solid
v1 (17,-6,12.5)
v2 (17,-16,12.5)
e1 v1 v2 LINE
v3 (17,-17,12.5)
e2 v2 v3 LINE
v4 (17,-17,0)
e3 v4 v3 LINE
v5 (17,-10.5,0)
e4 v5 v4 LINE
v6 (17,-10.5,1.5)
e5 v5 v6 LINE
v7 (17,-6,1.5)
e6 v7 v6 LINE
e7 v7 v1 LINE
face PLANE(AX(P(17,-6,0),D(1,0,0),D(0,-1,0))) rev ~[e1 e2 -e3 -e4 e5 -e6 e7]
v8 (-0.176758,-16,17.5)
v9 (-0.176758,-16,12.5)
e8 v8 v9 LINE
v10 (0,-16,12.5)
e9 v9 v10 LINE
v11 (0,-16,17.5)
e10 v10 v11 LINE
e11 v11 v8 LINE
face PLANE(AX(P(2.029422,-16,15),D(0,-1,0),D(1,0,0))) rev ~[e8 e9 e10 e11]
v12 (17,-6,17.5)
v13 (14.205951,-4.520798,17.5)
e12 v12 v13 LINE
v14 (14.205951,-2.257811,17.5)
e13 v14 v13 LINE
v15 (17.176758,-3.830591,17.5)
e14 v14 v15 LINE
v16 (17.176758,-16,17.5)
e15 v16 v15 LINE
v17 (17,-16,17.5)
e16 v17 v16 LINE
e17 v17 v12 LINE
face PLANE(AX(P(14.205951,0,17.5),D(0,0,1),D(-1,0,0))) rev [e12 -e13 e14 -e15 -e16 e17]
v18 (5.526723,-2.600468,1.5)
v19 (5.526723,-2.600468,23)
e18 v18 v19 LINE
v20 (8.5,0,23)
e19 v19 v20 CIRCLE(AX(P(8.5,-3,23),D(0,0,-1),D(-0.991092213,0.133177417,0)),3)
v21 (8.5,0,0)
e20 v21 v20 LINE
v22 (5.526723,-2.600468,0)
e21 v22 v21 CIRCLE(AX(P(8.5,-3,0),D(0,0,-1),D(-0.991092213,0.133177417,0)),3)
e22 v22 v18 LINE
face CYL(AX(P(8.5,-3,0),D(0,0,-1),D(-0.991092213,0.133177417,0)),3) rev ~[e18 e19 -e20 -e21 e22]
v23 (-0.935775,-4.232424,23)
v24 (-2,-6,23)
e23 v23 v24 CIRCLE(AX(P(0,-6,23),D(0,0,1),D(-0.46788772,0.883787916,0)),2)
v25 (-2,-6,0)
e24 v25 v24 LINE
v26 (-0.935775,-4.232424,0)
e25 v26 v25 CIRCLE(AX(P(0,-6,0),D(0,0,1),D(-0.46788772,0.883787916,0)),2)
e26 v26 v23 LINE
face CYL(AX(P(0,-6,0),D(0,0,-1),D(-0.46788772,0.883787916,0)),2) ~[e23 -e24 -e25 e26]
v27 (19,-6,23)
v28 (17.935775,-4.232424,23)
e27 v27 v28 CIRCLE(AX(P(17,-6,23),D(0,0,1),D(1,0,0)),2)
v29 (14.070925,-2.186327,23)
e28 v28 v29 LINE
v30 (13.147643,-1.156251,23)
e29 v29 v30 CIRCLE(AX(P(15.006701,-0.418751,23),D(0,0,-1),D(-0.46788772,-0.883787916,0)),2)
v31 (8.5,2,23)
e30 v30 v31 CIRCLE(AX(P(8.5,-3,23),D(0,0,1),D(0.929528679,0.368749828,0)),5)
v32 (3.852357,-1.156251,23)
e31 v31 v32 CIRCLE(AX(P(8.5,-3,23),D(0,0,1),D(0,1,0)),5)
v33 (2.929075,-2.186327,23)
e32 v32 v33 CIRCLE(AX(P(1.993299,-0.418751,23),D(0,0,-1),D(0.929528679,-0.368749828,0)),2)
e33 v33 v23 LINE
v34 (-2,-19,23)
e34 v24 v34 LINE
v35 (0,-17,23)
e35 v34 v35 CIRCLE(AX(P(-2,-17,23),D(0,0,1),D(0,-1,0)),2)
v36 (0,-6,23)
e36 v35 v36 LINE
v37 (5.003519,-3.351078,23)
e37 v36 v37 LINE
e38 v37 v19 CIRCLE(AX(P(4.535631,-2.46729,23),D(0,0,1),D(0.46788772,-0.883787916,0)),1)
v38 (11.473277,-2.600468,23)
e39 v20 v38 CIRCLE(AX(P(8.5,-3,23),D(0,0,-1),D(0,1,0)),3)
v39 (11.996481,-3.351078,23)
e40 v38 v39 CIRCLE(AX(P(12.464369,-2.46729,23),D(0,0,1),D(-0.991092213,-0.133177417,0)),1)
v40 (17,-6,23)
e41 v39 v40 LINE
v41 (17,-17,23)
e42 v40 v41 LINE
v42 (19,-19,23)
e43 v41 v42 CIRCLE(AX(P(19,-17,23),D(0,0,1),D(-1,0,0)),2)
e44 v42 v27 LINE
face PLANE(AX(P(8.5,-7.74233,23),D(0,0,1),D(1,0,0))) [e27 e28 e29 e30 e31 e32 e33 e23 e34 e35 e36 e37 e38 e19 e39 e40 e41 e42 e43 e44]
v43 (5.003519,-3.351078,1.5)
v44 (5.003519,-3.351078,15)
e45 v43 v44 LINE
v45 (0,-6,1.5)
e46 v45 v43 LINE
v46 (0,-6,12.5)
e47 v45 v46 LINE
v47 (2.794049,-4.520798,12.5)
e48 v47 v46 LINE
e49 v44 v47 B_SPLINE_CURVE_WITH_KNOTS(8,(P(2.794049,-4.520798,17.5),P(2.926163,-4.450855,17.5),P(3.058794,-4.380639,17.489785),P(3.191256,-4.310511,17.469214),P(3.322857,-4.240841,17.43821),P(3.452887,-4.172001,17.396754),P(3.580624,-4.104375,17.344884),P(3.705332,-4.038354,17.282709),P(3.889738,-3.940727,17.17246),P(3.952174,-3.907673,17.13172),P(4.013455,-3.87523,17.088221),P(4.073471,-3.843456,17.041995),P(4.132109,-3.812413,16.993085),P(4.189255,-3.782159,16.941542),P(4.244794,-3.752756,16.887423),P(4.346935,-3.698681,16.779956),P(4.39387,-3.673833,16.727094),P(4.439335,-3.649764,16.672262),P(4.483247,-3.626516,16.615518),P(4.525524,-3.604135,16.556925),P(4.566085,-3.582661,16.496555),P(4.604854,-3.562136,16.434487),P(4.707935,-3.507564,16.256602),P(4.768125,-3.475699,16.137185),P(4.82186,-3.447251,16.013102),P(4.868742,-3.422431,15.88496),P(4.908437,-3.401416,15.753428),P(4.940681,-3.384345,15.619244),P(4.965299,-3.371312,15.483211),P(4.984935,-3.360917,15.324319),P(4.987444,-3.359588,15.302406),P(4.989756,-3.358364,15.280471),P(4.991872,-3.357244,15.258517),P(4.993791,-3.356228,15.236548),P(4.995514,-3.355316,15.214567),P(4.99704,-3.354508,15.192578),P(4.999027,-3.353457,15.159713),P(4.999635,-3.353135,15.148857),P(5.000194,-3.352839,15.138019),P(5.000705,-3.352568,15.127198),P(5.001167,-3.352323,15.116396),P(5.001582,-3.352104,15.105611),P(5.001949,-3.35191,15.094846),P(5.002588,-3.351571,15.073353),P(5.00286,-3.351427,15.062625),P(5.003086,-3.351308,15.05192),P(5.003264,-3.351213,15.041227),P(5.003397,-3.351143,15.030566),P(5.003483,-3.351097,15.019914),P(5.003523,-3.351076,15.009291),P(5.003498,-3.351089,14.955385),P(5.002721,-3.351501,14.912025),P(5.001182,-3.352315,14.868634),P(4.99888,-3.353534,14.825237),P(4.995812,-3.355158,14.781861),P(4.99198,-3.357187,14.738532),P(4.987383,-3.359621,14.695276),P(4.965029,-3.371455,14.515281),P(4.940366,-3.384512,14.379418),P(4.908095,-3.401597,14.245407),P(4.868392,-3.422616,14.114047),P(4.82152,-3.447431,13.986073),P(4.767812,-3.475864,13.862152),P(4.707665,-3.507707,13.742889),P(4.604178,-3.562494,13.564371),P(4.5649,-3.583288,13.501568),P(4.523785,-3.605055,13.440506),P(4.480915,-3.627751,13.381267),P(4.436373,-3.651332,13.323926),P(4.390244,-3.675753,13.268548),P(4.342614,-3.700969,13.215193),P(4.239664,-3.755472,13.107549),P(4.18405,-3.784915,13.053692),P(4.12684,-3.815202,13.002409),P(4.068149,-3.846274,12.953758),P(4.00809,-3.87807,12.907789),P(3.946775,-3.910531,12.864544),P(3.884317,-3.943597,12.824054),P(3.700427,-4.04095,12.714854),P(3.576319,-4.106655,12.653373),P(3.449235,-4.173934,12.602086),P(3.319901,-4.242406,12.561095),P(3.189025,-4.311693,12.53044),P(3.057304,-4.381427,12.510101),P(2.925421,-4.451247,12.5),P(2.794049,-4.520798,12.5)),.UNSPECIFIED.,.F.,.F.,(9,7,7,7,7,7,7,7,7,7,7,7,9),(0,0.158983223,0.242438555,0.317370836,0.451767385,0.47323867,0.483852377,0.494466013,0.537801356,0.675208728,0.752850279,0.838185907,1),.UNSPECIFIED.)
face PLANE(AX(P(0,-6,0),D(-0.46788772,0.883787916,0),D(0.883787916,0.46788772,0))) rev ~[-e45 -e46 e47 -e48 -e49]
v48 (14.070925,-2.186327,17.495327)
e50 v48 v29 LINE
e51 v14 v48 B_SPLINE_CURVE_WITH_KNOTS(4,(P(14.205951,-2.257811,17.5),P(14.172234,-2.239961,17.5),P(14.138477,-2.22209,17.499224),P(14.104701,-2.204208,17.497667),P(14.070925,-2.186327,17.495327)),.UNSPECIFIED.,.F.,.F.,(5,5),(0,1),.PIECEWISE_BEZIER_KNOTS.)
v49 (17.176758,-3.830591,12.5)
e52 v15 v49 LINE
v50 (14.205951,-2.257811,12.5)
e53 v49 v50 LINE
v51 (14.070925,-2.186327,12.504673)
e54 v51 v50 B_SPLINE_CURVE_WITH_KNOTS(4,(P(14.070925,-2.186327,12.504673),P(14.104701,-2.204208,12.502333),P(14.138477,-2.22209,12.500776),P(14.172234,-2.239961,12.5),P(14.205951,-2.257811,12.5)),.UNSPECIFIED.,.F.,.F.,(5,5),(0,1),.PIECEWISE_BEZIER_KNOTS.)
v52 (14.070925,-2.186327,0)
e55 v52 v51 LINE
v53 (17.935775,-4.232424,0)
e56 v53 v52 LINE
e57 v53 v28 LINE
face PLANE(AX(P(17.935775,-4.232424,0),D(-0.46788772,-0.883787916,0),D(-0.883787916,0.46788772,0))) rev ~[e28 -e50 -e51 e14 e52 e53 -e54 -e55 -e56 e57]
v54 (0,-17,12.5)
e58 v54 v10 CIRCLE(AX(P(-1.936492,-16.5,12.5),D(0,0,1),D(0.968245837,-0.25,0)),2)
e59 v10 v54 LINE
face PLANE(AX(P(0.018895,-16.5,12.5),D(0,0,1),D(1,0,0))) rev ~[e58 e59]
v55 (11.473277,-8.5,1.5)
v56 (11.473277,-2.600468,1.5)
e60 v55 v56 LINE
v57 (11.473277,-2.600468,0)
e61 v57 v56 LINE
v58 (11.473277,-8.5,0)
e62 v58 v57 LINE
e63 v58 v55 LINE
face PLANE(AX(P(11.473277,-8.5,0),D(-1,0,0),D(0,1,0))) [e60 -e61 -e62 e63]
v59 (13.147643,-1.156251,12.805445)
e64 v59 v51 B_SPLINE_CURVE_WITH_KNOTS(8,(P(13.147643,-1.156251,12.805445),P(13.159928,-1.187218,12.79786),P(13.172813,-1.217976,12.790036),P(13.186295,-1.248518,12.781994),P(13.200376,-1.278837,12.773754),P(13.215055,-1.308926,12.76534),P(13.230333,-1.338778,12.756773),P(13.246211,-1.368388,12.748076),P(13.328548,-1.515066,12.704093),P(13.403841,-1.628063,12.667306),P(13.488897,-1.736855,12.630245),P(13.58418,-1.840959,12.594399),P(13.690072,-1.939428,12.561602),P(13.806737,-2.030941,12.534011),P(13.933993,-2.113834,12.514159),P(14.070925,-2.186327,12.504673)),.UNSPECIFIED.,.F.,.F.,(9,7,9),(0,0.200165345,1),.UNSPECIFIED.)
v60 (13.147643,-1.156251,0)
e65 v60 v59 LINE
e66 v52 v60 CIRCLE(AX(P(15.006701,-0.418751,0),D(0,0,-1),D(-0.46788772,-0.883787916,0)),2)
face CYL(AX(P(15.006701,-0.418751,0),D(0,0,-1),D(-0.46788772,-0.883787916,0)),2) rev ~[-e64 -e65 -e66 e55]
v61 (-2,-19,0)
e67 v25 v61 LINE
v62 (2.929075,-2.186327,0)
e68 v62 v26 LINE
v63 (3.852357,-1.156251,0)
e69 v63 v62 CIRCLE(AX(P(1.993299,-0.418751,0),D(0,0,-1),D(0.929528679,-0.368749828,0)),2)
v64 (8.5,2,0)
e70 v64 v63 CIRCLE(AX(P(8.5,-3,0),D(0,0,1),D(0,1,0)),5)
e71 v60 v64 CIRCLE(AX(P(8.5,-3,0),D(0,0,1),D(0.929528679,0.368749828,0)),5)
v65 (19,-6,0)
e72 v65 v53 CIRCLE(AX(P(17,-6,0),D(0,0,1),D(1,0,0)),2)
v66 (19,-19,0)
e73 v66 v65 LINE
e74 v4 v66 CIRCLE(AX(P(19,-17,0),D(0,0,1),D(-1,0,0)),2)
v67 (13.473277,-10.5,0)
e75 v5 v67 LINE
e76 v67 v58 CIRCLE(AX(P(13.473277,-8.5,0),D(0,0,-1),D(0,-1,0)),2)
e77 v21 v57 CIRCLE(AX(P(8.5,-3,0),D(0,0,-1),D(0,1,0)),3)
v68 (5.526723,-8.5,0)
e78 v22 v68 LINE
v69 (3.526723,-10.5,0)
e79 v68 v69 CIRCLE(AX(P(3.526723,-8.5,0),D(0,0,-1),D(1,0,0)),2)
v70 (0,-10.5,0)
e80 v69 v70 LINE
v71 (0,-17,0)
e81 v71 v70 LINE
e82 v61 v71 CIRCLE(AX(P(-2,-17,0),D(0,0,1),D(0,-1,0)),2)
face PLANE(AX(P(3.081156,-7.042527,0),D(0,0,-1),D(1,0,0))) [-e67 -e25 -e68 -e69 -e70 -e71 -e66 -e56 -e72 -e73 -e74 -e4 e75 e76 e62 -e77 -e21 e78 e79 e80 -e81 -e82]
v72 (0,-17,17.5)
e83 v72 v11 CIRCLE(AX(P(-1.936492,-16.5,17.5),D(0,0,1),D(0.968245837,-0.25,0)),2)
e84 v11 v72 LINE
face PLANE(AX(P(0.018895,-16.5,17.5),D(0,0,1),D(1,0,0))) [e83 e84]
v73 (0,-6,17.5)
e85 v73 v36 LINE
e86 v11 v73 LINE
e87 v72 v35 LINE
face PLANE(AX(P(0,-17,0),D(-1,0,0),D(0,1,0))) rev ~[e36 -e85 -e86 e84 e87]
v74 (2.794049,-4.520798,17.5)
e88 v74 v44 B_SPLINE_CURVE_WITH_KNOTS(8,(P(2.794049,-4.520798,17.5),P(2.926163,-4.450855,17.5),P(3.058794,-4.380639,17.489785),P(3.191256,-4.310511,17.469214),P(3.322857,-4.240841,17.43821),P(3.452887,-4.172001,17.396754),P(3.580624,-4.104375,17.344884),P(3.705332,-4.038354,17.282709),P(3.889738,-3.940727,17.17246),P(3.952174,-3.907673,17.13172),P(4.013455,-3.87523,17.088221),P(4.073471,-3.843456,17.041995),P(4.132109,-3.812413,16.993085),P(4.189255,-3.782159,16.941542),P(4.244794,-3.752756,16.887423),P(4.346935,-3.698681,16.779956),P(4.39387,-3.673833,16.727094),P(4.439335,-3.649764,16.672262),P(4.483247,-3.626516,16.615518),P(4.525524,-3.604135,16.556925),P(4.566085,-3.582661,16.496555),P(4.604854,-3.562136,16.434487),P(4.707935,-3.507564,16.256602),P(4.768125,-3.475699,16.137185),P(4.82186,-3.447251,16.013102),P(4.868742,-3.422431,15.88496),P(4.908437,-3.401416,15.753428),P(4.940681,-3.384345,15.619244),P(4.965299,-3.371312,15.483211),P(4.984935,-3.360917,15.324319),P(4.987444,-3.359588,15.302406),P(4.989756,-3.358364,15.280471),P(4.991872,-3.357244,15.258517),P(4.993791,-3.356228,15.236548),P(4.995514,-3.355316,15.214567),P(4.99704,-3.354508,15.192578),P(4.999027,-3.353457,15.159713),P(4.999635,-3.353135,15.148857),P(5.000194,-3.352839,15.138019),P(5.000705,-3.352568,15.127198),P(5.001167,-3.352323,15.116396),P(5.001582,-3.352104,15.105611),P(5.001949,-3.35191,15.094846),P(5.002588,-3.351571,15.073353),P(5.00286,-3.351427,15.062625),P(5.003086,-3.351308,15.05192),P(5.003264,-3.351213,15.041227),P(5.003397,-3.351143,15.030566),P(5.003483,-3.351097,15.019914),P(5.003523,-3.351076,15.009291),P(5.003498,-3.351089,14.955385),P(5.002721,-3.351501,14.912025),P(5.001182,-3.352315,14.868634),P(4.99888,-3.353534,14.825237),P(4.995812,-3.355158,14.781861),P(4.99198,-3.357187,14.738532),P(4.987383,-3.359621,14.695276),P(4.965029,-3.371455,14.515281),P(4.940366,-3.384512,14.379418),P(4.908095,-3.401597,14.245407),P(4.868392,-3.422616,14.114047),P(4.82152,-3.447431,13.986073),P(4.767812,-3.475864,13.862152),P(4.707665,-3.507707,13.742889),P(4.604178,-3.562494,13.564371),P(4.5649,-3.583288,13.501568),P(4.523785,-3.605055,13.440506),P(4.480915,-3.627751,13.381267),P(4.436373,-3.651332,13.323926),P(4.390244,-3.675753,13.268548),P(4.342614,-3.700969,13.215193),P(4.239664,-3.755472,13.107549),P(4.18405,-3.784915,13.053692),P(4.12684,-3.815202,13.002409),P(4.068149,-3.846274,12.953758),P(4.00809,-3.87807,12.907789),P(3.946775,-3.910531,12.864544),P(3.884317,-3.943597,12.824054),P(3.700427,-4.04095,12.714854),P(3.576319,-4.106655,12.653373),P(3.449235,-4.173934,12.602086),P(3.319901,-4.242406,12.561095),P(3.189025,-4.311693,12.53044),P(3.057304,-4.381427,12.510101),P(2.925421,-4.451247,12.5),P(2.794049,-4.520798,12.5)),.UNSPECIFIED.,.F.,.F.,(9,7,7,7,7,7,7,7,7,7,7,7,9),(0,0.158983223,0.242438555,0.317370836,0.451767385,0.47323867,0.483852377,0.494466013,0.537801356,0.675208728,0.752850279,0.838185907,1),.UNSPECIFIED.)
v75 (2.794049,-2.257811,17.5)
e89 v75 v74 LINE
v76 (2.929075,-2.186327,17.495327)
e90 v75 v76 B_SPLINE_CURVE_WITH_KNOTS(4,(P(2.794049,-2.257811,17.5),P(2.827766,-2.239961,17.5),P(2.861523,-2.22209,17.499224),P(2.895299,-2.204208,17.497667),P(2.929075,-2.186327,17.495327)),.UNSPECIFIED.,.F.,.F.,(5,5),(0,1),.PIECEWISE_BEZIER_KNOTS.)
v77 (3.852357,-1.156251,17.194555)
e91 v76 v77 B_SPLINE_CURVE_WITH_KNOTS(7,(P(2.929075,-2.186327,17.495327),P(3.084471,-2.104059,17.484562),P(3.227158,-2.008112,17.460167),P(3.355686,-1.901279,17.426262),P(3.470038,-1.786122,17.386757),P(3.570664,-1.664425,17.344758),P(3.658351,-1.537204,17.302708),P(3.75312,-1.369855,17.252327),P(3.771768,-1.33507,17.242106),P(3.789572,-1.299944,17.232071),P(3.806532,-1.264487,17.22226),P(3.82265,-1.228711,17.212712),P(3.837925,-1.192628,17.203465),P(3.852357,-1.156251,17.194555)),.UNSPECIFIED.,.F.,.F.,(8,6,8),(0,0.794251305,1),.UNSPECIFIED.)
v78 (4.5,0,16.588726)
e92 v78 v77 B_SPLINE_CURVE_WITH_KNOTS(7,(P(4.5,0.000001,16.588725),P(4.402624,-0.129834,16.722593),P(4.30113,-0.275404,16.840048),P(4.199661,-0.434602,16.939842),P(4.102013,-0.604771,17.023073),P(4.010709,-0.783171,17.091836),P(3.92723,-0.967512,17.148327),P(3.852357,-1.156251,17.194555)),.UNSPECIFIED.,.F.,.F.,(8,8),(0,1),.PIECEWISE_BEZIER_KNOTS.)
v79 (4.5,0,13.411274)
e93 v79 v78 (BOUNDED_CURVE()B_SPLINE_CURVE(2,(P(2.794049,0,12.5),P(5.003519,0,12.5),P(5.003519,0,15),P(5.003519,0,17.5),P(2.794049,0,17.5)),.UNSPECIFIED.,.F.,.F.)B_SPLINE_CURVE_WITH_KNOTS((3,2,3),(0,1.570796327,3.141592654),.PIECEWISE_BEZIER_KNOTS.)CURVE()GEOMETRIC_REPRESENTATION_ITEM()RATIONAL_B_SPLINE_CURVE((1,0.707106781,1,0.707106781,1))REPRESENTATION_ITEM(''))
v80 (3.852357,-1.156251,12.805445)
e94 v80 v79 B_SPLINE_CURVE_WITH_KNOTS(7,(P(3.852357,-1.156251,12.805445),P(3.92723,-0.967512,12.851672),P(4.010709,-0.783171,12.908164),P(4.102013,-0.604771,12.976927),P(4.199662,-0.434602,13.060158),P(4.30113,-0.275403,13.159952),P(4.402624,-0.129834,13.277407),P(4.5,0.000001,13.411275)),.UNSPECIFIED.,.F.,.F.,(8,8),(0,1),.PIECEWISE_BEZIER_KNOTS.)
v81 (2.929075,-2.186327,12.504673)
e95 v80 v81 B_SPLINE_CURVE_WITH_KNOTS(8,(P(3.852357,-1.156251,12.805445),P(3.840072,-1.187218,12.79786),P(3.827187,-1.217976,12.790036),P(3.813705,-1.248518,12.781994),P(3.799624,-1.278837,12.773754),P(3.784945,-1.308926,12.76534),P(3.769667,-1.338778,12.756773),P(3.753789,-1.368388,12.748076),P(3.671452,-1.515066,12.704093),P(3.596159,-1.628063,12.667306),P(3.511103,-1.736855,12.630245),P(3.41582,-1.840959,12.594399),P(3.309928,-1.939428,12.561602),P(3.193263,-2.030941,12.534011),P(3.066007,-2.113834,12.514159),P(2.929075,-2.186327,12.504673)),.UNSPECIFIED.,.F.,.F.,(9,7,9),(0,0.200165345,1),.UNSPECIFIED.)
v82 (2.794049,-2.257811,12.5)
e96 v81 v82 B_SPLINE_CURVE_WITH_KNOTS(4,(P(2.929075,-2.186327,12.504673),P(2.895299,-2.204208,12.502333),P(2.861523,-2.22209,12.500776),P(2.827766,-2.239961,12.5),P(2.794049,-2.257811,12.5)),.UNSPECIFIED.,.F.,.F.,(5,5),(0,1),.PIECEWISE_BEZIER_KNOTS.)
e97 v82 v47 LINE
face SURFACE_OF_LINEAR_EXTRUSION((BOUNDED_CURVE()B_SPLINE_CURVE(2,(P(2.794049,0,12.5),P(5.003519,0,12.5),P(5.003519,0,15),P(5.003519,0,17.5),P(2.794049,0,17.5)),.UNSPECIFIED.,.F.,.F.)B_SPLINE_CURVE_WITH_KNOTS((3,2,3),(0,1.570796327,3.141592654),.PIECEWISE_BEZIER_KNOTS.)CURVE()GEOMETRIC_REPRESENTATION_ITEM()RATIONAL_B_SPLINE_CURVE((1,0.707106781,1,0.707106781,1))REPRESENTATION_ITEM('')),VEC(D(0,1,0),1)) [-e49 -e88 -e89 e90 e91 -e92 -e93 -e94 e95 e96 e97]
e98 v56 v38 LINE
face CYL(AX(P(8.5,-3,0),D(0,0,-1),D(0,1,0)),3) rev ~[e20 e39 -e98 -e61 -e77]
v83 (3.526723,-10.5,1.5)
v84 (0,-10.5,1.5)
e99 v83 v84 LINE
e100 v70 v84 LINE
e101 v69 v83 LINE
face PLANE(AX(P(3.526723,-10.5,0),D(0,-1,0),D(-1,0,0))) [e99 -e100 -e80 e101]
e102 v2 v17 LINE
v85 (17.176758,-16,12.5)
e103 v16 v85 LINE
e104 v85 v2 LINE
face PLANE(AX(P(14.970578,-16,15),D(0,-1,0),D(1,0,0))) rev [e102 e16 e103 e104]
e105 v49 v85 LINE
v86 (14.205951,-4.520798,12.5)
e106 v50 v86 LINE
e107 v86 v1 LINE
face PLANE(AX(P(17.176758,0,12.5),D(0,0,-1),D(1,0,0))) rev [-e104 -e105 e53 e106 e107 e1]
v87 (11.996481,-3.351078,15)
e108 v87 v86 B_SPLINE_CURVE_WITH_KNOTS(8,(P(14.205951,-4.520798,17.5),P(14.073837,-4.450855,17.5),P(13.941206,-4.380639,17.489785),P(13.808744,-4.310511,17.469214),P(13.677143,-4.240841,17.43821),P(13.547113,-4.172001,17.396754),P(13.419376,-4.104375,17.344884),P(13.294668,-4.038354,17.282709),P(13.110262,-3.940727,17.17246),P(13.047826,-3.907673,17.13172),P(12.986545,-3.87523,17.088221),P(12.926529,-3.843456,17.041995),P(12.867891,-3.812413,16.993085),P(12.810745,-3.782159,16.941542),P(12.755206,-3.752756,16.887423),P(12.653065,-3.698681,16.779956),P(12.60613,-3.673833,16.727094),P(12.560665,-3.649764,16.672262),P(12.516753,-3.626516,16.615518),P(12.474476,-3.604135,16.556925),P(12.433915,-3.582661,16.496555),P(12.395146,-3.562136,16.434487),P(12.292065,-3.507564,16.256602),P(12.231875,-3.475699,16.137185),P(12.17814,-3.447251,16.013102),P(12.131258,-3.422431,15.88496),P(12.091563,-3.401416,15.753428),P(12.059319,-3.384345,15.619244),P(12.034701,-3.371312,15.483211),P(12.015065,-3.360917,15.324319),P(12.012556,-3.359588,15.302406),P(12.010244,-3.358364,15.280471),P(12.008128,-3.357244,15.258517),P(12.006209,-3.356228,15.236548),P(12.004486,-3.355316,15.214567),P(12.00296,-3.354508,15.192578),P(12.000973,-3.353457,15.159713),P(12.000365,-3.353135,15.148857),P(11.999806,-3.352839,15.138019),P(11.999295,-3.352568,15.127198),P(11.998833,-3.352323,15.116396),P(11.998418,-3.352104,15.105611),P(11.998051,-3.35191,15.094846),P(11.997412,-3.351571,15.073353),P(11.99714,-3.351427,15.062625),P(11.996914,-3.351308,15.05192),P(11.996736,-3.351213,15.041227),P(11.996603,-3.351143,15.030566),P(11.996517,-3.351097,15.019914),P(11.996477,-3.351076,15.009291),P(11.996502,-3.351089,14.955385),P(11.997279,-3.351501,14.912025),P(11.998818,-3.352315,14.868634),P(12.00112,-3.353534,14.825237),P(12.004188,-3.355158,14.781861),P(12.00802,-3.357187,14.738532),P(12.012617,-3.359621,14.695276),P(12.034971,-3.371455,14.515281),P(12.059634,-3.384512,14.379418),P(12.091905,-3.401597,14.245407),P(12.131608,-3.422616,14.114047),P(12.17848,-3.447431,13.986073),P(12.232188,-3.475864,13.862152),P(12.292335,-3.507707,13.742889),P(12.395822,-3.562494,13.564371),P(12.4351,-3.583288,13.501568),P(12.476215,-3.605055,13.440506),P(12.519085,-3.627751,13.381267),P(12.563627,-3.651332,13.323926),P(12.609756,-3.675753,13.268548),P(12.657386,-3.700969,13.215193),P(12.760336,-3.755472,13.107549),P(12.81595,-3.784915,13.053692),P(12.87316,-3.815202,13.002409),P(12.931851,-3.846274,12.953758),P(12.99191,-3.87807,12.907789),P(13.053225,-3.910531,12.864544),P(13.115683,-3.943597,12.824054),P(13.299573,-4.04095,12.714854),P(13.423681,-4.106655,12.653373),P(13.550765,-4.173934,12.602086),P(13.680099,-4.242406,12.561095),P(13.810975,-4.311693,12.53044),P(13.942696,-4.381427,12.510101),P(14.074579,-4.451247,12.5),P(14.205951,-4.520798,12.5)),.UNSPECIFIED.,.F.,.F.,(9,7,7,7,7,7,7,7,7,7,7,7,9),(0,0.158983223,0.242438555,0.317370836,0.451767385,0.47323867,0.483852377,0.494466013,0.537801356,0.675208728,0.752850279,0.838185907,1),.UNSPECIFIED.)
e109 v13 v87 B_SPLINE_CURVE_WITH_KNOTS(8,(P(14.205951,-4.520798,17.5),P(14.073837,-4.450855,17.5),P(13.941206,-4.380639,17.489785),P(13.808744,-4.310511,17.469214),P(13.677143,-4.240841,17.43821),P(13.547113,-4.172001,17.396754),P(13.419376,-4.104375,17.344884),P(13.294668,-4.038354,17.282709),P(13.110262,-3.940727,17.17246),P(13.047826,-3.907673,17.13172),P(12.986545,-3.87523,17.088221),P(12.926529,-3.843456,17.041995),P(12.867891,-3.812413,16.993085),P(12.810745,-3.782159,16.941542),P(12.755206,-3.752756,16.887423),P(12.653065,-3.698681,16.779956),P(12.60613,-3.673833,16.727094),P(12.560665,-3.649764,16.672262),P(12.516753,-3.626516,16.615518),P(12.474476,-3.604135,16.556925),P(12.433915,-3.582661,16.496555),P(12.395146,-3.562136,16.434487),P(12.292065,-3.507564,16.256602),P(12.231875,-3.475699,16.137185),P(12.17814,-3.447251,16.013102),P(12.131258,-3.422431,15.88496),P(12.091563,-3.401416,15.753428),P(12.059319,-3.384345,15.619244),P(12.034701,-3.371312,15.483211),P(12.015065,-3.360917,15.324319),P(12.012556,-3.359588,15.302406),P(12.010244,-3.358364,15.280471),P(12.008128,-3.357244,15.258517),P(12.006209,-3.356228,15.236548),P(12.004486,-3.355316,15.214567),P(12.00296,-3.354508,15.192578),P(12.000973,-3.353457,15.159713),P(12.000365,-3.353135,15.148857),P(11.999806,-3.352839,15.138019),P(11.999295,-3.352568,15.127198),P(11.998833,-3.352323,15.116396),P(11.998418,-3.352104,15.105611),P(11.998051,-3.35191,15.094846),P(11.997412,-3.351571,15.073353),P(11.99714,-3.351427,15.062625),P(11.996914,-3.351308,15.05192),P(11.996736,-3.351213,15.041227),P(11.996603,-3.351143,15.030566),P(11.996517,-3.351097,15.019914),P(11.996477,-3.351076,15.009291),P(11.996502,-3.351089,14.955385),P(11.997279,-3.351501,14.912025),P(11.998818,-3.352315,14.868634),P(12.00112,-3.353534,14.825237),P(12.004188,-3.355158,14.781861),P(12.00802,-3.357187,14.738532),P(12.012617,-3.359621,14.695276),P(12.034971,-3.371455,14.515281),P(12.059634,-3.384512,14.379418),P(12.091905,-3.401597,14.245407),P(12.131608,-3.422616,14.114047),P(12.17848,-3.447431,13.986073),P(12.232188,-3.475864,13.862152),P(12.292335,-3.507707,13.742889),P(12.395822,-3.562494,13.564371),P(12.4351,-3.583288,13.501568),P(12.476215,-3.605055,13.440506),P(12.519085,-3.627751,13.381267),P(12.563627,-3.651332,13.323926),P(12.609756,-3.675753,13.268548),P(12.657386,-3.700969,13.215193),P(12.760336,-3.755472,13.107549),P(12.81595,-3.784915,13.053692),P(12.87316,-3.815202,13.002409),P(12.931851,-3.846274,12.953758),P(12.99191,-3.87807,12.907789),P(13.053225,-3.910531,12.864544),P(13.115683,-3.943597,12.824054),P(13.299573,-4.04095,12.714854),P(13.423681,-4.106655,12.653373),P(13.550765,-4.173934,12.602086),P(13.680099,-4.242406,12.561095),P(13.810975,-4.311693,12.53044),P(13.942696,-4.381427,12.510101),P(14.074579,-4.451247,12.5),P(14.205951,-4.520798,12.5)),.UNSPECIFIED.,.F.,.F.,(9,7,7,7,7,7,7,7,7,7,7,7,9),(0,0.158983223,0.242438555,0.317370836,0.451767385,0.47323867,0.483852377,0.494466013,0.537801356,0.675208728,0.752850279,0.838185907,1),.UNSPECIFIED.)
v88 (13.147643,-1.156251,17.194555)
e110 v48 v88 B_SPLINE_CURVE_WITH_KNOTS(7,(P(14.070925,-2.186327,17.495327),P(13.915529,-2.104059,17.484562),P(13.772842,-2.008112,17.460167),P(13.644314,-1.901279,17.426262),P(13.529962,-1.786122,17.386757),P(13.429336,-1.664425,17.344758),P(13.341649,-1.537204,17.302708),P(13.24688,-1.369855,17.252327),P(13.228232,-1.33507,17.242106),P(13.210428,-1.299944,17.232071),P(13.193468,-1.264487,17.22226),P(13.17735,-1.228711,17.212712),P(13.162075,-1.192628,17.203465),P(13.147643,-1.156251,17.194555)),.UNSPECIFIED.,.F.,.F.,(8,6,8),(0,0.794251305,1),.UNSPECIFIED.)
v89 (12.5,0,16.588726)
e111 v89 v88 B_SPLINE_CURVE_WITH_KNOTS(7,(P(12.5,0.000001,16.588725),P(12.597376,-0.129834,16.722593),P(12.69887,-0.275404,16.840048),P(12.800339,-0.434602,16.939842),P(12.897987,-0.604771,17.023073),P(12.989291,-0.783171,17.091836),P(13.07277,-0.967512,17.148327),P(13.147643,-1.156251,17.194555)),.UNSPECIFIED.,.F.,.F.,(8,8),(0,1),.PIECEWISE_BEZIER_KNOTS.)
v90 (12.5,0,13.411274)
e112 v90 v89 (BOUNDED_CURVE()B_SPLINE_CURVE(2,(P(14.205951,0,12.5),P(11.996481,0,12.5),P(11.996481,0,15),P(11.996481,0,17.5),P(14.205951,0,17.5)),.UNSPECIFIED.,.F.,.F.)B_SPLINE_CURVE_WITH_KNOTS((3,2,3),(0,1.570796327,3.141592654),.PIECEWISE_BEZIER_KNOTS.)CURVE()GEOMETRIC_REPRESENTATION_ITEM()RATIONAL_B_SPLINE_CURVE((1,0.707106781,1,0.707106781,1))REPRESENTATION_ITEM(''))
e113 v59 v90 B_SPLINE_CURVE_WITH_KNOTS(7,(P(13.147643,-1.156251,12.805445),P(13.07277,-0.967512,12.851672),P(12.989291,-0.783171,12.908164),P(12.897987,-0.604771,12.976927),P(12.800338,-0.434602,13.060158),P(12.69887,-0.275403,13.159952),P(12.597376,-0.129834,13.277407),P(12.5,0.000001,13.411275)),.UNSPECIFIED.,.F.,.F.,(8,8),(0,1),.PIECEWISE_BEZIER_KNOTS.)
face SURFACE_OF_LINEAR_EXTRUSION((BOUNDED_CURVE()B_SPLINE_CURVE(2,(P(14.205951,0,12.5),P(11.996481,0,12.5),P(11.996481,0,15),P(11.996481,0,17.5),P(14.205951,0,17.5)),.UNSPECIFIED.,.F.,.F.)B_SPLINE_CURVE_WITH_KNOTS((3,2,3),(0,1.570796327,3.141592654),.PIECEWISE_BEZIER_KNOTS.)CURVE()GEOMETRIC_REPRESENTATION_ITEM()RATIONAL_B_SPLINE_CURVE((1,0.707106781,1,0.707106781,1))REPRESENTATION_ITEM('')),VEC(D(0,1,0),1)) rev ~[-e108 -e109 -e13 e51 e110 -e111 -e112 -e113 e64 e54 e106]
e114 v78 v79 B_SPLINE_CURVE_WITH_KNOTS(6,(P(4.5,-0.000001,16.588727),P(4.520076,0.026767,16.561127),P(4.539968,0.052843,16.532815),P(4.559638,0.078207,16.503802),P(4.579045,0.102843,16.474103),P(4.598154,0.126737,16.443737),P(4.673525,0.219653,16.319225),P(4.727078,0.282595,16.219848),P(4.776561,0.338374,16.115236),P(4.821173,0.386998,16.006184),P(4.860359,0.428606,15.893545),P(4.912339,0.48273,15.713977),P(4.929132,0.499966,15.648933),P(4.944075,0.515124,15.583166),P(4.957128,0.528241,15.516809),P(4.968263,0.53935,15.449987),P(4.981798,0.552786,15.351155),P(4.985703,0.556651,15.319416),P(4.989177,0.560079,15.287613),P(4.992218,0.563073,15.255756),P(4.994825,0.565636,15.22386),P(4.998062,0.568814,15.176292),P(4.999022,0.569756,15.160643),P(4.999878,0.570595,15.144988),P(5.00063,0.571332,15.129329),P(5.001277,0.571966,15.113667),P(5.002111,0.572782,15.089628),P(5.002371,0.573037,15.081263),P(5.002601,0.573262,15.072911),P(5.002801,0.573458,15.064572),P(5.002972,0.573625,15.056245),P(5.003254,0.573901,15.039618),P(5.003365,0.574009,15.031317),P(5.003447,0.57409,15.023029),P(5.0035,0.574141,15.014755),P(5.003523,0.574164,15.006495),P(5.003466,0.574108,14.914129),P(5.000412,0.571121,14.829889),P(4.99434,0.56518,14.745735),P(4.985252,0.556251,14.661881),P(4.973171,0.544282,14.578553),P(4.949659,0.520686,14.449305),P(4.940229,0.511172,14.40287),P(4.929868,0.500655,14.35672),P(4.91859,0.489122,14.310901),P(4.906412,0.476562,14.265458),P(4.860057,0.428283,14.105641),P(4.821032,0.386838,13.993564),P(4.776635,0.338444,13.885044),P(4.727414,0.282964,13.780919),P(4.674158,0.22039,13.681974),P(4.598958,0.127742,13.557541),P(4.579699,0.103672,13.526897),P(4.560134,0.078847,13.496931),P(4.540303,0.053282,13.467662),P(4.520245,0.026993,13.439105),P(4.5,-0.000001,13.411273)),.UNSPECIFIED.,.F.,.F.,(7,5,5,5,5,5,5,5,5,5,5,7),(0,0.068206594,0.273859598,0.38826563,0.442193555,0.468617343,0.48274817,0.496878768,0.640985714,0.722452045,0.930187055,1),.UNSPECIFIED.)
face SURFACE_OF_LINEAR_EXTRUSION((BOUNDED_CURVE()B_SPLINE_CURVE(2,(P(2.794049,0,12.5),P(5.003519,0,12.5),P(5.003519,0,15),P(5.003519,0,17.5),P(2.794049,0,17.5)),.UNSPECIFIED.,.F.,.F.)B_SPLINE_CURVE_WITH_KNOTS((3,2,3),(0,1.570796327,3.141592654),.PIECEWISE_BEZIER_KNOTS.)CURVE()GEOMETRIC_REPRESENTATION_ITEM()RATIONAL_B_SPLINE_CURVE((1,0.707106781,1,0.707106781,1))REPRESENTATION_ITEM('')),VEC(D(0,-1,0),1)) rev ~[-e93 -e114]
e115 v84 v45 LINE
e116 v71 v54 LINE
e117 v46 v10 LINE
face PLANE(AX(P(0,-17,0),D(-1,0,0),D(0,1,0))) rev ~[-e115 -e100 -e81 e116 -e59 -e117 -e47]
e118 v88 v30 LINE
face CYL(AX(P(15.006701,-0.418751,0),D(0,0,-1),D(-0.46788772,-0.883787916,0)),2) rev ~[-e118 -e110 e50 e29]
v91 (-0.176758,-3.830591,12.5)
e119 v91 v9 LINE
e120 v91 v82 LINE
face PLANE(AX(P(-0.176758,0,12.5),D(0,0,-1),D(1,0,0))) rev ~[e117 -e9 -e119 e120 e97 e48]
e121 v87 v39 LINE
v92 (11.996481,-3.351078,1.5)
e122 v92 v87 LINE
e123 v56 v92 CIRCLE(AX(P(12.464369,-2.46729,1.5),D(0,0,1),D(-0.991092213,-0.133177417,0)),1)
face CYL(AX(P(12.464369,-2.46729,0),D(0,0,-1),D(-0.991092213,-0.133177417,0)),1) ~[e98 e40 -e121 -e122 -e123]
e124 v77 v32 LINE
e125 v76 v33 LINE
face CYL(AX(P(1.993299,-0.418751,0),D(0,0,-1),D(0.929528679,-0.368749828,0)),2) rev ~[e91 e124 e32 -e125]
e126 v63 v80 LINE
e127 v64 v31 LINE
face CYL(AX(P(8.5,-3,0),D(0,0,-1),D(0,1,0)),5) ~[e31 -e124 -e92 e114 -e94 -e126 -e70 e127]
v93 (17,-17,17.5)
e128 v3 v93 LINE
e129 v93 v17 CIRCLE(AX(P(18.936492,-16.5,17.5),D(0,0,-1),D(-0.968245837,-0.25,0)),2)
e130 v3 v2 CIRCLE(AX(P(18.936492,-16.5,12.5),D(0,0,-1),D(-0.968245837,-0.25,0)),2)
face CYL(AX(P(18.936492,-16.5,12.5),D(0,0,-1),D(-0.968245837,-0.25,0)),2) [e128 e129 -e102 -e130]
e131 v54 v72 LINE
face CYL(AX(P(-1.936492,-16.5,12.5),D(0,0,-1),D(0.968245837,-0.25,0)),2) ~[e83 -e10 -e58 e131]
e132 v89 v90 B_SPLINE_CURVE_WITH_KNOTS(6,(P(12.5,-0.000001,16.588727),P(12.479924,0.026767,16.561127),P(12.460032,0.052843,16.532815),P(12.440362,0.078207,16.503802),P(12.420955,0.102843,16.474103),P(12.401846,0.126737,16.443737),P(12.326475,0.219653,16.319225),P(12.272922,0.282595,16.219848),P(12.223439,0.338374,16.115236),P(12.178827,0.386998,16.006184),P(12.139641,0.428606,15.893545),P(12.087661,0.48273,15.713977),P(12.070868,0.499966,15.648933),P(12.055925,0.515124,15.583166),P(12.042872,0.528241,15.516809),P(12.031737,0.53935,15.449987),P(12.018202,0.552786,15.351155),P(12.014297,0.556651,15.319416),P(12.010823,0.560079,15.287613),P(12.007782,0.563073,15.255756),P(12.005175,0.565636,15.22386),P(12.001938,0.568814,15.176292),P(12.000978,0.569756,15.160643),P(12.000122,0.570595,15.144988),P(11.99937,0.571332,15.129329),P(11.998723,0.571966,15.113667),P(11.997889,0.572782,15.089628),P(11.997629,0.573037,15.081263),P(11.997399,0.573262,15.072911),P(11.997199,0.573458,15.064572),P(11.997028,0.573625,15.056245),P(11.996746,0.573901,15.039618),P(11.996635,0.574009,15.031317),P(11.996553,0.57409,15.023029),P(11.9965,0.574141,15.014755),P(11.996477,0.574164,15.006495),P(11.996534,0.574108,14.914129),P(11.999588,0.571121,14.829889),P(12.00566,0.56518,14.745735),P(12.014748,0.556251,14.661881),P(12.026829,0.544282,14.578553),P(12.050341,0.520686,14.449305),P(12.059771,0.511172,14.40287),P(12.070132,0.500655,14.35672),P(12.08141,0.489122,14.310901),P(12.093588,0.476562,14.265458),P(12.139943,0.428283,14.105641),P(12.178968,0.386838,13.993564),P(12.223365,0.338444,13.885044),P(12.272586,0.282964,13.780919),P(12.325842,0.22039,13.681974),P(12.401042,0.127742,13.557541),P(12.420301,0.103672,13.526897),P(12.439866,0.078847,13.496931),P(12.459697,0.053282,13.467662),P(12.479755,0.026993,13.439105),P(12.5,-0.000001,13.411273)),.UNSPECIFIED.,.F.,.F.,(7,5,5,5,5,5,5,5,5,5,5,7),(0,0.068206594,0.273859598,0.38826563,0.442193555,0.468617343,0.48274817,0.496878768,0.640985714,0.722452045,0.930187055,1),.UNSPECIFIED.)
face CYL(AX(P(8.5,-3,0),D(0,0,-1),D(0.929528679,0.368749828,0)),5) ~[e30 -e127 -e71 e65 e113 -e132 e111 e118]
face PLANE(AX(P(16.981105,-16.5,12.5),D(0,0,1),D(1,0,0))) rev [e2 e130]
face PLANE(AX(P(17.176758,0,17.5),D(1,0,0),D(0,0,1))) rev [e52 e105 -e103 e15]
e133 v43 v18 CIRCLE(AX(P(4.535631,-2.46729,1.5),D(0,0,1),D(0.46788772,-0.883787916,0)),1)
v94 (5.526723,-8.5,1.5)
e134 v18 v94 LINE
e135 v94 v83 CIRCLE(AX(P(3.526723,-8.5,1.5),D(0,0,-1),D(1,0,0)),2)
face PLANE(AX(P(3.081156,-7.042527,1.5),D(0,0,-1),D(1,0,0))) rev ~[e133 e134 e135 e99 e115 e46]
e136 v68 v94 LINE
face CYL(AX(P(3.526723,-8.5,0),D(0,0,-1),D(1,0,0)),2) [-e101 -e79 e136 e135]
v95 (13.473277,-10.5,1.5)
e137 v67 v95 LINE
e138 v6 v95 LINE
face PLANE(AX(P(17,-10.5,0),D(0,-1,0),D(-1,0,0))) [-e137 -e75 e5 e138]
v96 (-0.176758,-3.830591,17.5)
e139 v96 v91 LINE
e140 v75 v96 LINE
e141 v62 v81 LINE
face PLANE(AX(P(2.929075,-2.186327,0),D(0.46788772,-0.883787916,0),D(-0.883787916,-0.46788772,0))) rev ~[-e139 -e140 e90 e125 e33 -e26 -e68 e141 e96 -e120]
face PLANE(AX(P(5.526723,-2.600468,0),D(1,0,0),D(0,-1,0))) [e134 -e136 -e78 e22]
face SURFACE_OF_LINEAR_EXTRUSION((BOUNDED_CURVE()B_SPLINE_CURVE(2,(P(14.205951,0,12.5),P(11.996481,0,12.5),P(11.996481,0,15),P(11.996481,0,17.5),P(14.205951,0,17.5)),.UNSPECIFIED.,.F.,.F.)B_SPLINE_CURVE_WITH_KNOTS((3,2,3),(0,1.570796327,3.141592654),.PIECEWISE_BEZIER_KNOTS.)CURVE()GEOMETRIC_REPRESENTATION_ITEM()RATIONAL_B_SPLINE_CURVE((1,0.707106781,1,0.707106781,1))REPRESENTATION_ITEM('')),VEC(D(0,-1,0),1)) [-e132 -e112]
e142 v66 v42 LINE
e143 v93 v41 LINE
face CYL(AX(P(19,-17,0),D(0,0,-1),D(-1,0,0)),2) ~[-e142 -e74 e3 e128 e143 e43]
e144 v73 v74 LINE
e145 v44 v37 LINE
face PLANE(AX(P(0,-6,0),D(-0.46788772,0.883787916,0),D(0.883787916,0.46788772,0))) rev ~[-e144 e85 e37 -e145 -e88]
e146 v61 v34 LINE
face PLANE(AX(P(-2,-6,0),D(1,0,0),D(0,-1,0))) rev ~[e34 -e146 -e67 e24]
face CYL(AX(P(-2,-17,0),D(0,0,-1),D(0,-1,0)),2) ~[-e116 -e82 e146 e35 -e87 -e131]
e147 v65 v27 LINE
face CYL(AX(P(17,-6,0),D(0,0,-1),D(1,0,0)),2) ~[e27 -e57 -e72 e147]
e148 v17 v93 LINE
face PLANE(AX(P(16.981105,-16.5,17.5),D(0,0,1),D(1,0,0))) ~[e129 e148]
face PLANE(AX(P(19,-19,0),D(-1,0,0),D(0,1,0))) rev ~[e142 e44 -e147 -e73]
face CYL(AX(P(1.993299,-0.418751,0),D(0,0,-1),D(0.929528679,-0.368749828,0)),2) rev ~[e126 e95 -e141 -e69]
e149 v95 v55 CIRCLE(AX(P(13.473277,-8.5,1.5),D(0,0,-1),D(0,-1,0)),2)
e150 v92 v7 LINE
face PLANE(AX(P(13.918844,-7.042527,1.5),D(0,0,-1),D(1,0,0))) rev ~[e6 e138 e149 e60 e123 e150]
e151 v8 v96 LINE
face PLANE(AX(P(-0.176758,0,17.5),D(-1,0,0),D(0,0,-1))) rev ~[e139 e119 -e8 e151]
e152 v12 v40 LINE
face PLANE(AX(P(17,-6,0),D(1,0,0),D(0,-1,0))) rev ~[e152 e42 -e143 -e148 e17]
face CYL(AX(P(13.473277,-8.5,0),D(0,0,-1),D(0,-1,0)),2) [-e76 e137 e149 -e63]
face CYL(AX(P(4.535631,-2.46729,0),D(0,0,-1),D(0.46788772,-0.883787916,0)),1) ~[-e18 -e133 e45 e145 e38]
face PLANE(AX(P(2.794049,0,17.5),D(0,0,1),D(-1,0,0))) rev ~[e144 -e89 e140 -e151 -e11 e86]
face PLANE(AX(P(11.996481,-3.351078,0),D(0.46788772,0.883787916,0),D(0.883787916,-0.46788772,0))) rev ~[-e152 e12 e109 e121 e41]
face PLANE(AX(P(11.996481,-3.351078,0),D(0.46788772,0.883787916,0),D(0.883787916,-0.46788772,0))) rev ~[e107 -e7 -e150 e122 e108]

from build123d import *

# Parameters (mm, degrees)
F1_DEPTH      = 23
F3_DEPTH      = 1.5
F6_DEPTH      = 16
F6_DEPTH_BACK = 5
F12_DEPTH     = 5


with BuildPart() as f1:
    # F0 (on Top) → F1 (new body)
    with BuildSketch(Plane.XY):
        with BuildLine():
            ThreePointArc((-2, -19), (-0.5857864376, -18.4142135624), (0, -17))
            Line((0, -17), (0, -6))
            Line((0, -6), (5.0035188667, -3.351078247))
            ThreePointArc((5.0035188667, -3.351078247), (5.3560027951, -3.039121038), (5.5267233597, -2.600467748))
            ThreePointArc((5.5267233597, -2.600467748), (6.5249806021, -0.7418373889), (8.5, 0))
            ThreePointArc((8.5, 0), (10.4750193979, -0.7418373889), (11.4732766403, -2.600467748))
            ThreePointArc((11.4732766403, -2.600467748), (11.6439972049, -3.039121038), (11.9964811333, -3.351078247))
            Line((11.9964811333, -3.351078247), (17, -6))
            Line((17, -6), (17, -17))
            ThreePointArc((17, -17), (17.5857864376, -18.4142135624), (19, -19))
            Line((19, -19), (19, -6))
            ThreePointArc((19, -6), (18.7134104706, -4.9683873987), (17.9357754408, -4.2324241673))
            Line((17.9357754408, -4.2324241673), (14.0709253105, -2.1863270395))
            ThreePointArc((14.0709253105, -2.1863270395), (13.5173932527, -1.7536531412), (13.1476433938, -1.156250862))
            ThreePointArc((13.1476433938, -1.156250862), (11.3090260154, 1.1363477665), (8.5, 2))
            ThreePointArc((8.5, 2), (5.6909739846, 1.1363477665), (3.8523566062, -1.156250862))
            ThreePointArc((3.8523566062, -1.156250862), (3.4826067473, -1.7536531412), (2.9290746895, -2.1863270395))
            Line((2.9290746895, -2.1863270395), (-0.9357754408, -4.2324241673))
            ThreePointArc((-0.9357754408, -4.2324241673), (-1.7134104706, -4.9683873987), (-2, -6))
            Line((-2, -6), (-2, -19))
        make_face()
    extrude(amount=F1_DEPTH)

    # F2 (on face) → F3 (join)
    with BuildSketch(Plane(origin=(0, 0, 0), x_dir=(1, 0, 0), z_dir=(0, 0, -1))):
        with BuildLine():
            Line((0, 10.5), (0, 6))
            Line((0, 6), (5.0035188667, 3.351078247))
            ThreePointArc((5.0035188667, 3.351078247), (5.3560027951, 3.039121038), (5.5267233597, 2.600467748))
            Line((5.5267233597, 2.600467748), (5.5267233597, 8.5))
            ThreePointArc((5.5267233597, 8.5), (4.9409369221, 9.9142135624), (3.5267233597, 10.5))
            Line((3.5267233597, 10.5), (0, 10.5))
        make_face()
        with BuildLine():
            Line((11.4732766403, 8.5), (11.4732766403, 2.600467748))
            ThreePointArc((11.4732766403, 2.600467748), (11.6439972049, 3.039121038), (11.9964811333, 3.351078247))
            Line((11.9964811333, 3.351078247), (17, 6))
            Line((17, 6), (17, 10.5))
            Line((17, 10.5), (13.4732766403, 10.5))
            ThreePointArc((13.4732766403, 10.5), (12.0590630779, 9.9142135624), (11.4732766403, 8.5))
        make_face()
    extrude(amount=-F3_DEPTH)


with BuildPart() as f6:
    # F5 (on Front) → F6 (new body, two sides)
    with BuildSketch(Plane.XZ) as f6_sk:
        with BuildLine():
            Line((-0.1767575833, 17.5), (-0.1767575833, 12.5))
            Line((-0.1767575833, 12.5), (0, 12.5))
            Line((0, 12.5), (2.7940490758, 12.5))
            add(Edge.make_bspline(
                [(2.7940490758, 12.5), (5.0035188667, 12.5), (5.0035188667, 15), (5.0035188667, 17.5), (2.7940490758, 17.5)],
                knots=[0, 0, 0, 1.5707963268, 1.5707963268, 3.1415926536, 3.1415926536, 3.1415926536], degree=2, weights=[1, 0.7071067812, 1, 0.7071067812, 1]))
            Line((2.7940490758, 17.5), (0, 17.5))
            Line((0, 17.5), (-0.1767575833, 17.5))
        make_face()
    extrude(amount=F6_DEPTH)
    extrude(f6_sk.sketch, amount=-F6_DEPTH_BACK)


with BuildPart() as f8_1:
    # F8: instance of F6
    add(f6.part.mirror(Plane.YZ.offset(8.5)))


with BuildPart() as f1_1:
    add(f1.part)

    # F9: cut F8_1, F6
    add(f8_1.part, mode=Mode.SUBTRACT)
    add(f6.part, mode=Mode.SUBTRACT)

    # F11 (on offset) → F12 (join)
    with BuildSketch(Plane.XY.offset(12.5)):
        with BuildLine():
            ThreePointArc((0, -17), (0.0635083269, -16.5), (0, -16))
            Line((0, -16), (0, -17))
        make_face()
    extrude(amount=F12_DEPTH)

    # F13: F1 across plane


with BuildPart() as f1_2:
    add(f1_1.part)
    add(f1_1.part.mirror(Plane.YZ.offset(8.5)))


solid = f1_2.part
